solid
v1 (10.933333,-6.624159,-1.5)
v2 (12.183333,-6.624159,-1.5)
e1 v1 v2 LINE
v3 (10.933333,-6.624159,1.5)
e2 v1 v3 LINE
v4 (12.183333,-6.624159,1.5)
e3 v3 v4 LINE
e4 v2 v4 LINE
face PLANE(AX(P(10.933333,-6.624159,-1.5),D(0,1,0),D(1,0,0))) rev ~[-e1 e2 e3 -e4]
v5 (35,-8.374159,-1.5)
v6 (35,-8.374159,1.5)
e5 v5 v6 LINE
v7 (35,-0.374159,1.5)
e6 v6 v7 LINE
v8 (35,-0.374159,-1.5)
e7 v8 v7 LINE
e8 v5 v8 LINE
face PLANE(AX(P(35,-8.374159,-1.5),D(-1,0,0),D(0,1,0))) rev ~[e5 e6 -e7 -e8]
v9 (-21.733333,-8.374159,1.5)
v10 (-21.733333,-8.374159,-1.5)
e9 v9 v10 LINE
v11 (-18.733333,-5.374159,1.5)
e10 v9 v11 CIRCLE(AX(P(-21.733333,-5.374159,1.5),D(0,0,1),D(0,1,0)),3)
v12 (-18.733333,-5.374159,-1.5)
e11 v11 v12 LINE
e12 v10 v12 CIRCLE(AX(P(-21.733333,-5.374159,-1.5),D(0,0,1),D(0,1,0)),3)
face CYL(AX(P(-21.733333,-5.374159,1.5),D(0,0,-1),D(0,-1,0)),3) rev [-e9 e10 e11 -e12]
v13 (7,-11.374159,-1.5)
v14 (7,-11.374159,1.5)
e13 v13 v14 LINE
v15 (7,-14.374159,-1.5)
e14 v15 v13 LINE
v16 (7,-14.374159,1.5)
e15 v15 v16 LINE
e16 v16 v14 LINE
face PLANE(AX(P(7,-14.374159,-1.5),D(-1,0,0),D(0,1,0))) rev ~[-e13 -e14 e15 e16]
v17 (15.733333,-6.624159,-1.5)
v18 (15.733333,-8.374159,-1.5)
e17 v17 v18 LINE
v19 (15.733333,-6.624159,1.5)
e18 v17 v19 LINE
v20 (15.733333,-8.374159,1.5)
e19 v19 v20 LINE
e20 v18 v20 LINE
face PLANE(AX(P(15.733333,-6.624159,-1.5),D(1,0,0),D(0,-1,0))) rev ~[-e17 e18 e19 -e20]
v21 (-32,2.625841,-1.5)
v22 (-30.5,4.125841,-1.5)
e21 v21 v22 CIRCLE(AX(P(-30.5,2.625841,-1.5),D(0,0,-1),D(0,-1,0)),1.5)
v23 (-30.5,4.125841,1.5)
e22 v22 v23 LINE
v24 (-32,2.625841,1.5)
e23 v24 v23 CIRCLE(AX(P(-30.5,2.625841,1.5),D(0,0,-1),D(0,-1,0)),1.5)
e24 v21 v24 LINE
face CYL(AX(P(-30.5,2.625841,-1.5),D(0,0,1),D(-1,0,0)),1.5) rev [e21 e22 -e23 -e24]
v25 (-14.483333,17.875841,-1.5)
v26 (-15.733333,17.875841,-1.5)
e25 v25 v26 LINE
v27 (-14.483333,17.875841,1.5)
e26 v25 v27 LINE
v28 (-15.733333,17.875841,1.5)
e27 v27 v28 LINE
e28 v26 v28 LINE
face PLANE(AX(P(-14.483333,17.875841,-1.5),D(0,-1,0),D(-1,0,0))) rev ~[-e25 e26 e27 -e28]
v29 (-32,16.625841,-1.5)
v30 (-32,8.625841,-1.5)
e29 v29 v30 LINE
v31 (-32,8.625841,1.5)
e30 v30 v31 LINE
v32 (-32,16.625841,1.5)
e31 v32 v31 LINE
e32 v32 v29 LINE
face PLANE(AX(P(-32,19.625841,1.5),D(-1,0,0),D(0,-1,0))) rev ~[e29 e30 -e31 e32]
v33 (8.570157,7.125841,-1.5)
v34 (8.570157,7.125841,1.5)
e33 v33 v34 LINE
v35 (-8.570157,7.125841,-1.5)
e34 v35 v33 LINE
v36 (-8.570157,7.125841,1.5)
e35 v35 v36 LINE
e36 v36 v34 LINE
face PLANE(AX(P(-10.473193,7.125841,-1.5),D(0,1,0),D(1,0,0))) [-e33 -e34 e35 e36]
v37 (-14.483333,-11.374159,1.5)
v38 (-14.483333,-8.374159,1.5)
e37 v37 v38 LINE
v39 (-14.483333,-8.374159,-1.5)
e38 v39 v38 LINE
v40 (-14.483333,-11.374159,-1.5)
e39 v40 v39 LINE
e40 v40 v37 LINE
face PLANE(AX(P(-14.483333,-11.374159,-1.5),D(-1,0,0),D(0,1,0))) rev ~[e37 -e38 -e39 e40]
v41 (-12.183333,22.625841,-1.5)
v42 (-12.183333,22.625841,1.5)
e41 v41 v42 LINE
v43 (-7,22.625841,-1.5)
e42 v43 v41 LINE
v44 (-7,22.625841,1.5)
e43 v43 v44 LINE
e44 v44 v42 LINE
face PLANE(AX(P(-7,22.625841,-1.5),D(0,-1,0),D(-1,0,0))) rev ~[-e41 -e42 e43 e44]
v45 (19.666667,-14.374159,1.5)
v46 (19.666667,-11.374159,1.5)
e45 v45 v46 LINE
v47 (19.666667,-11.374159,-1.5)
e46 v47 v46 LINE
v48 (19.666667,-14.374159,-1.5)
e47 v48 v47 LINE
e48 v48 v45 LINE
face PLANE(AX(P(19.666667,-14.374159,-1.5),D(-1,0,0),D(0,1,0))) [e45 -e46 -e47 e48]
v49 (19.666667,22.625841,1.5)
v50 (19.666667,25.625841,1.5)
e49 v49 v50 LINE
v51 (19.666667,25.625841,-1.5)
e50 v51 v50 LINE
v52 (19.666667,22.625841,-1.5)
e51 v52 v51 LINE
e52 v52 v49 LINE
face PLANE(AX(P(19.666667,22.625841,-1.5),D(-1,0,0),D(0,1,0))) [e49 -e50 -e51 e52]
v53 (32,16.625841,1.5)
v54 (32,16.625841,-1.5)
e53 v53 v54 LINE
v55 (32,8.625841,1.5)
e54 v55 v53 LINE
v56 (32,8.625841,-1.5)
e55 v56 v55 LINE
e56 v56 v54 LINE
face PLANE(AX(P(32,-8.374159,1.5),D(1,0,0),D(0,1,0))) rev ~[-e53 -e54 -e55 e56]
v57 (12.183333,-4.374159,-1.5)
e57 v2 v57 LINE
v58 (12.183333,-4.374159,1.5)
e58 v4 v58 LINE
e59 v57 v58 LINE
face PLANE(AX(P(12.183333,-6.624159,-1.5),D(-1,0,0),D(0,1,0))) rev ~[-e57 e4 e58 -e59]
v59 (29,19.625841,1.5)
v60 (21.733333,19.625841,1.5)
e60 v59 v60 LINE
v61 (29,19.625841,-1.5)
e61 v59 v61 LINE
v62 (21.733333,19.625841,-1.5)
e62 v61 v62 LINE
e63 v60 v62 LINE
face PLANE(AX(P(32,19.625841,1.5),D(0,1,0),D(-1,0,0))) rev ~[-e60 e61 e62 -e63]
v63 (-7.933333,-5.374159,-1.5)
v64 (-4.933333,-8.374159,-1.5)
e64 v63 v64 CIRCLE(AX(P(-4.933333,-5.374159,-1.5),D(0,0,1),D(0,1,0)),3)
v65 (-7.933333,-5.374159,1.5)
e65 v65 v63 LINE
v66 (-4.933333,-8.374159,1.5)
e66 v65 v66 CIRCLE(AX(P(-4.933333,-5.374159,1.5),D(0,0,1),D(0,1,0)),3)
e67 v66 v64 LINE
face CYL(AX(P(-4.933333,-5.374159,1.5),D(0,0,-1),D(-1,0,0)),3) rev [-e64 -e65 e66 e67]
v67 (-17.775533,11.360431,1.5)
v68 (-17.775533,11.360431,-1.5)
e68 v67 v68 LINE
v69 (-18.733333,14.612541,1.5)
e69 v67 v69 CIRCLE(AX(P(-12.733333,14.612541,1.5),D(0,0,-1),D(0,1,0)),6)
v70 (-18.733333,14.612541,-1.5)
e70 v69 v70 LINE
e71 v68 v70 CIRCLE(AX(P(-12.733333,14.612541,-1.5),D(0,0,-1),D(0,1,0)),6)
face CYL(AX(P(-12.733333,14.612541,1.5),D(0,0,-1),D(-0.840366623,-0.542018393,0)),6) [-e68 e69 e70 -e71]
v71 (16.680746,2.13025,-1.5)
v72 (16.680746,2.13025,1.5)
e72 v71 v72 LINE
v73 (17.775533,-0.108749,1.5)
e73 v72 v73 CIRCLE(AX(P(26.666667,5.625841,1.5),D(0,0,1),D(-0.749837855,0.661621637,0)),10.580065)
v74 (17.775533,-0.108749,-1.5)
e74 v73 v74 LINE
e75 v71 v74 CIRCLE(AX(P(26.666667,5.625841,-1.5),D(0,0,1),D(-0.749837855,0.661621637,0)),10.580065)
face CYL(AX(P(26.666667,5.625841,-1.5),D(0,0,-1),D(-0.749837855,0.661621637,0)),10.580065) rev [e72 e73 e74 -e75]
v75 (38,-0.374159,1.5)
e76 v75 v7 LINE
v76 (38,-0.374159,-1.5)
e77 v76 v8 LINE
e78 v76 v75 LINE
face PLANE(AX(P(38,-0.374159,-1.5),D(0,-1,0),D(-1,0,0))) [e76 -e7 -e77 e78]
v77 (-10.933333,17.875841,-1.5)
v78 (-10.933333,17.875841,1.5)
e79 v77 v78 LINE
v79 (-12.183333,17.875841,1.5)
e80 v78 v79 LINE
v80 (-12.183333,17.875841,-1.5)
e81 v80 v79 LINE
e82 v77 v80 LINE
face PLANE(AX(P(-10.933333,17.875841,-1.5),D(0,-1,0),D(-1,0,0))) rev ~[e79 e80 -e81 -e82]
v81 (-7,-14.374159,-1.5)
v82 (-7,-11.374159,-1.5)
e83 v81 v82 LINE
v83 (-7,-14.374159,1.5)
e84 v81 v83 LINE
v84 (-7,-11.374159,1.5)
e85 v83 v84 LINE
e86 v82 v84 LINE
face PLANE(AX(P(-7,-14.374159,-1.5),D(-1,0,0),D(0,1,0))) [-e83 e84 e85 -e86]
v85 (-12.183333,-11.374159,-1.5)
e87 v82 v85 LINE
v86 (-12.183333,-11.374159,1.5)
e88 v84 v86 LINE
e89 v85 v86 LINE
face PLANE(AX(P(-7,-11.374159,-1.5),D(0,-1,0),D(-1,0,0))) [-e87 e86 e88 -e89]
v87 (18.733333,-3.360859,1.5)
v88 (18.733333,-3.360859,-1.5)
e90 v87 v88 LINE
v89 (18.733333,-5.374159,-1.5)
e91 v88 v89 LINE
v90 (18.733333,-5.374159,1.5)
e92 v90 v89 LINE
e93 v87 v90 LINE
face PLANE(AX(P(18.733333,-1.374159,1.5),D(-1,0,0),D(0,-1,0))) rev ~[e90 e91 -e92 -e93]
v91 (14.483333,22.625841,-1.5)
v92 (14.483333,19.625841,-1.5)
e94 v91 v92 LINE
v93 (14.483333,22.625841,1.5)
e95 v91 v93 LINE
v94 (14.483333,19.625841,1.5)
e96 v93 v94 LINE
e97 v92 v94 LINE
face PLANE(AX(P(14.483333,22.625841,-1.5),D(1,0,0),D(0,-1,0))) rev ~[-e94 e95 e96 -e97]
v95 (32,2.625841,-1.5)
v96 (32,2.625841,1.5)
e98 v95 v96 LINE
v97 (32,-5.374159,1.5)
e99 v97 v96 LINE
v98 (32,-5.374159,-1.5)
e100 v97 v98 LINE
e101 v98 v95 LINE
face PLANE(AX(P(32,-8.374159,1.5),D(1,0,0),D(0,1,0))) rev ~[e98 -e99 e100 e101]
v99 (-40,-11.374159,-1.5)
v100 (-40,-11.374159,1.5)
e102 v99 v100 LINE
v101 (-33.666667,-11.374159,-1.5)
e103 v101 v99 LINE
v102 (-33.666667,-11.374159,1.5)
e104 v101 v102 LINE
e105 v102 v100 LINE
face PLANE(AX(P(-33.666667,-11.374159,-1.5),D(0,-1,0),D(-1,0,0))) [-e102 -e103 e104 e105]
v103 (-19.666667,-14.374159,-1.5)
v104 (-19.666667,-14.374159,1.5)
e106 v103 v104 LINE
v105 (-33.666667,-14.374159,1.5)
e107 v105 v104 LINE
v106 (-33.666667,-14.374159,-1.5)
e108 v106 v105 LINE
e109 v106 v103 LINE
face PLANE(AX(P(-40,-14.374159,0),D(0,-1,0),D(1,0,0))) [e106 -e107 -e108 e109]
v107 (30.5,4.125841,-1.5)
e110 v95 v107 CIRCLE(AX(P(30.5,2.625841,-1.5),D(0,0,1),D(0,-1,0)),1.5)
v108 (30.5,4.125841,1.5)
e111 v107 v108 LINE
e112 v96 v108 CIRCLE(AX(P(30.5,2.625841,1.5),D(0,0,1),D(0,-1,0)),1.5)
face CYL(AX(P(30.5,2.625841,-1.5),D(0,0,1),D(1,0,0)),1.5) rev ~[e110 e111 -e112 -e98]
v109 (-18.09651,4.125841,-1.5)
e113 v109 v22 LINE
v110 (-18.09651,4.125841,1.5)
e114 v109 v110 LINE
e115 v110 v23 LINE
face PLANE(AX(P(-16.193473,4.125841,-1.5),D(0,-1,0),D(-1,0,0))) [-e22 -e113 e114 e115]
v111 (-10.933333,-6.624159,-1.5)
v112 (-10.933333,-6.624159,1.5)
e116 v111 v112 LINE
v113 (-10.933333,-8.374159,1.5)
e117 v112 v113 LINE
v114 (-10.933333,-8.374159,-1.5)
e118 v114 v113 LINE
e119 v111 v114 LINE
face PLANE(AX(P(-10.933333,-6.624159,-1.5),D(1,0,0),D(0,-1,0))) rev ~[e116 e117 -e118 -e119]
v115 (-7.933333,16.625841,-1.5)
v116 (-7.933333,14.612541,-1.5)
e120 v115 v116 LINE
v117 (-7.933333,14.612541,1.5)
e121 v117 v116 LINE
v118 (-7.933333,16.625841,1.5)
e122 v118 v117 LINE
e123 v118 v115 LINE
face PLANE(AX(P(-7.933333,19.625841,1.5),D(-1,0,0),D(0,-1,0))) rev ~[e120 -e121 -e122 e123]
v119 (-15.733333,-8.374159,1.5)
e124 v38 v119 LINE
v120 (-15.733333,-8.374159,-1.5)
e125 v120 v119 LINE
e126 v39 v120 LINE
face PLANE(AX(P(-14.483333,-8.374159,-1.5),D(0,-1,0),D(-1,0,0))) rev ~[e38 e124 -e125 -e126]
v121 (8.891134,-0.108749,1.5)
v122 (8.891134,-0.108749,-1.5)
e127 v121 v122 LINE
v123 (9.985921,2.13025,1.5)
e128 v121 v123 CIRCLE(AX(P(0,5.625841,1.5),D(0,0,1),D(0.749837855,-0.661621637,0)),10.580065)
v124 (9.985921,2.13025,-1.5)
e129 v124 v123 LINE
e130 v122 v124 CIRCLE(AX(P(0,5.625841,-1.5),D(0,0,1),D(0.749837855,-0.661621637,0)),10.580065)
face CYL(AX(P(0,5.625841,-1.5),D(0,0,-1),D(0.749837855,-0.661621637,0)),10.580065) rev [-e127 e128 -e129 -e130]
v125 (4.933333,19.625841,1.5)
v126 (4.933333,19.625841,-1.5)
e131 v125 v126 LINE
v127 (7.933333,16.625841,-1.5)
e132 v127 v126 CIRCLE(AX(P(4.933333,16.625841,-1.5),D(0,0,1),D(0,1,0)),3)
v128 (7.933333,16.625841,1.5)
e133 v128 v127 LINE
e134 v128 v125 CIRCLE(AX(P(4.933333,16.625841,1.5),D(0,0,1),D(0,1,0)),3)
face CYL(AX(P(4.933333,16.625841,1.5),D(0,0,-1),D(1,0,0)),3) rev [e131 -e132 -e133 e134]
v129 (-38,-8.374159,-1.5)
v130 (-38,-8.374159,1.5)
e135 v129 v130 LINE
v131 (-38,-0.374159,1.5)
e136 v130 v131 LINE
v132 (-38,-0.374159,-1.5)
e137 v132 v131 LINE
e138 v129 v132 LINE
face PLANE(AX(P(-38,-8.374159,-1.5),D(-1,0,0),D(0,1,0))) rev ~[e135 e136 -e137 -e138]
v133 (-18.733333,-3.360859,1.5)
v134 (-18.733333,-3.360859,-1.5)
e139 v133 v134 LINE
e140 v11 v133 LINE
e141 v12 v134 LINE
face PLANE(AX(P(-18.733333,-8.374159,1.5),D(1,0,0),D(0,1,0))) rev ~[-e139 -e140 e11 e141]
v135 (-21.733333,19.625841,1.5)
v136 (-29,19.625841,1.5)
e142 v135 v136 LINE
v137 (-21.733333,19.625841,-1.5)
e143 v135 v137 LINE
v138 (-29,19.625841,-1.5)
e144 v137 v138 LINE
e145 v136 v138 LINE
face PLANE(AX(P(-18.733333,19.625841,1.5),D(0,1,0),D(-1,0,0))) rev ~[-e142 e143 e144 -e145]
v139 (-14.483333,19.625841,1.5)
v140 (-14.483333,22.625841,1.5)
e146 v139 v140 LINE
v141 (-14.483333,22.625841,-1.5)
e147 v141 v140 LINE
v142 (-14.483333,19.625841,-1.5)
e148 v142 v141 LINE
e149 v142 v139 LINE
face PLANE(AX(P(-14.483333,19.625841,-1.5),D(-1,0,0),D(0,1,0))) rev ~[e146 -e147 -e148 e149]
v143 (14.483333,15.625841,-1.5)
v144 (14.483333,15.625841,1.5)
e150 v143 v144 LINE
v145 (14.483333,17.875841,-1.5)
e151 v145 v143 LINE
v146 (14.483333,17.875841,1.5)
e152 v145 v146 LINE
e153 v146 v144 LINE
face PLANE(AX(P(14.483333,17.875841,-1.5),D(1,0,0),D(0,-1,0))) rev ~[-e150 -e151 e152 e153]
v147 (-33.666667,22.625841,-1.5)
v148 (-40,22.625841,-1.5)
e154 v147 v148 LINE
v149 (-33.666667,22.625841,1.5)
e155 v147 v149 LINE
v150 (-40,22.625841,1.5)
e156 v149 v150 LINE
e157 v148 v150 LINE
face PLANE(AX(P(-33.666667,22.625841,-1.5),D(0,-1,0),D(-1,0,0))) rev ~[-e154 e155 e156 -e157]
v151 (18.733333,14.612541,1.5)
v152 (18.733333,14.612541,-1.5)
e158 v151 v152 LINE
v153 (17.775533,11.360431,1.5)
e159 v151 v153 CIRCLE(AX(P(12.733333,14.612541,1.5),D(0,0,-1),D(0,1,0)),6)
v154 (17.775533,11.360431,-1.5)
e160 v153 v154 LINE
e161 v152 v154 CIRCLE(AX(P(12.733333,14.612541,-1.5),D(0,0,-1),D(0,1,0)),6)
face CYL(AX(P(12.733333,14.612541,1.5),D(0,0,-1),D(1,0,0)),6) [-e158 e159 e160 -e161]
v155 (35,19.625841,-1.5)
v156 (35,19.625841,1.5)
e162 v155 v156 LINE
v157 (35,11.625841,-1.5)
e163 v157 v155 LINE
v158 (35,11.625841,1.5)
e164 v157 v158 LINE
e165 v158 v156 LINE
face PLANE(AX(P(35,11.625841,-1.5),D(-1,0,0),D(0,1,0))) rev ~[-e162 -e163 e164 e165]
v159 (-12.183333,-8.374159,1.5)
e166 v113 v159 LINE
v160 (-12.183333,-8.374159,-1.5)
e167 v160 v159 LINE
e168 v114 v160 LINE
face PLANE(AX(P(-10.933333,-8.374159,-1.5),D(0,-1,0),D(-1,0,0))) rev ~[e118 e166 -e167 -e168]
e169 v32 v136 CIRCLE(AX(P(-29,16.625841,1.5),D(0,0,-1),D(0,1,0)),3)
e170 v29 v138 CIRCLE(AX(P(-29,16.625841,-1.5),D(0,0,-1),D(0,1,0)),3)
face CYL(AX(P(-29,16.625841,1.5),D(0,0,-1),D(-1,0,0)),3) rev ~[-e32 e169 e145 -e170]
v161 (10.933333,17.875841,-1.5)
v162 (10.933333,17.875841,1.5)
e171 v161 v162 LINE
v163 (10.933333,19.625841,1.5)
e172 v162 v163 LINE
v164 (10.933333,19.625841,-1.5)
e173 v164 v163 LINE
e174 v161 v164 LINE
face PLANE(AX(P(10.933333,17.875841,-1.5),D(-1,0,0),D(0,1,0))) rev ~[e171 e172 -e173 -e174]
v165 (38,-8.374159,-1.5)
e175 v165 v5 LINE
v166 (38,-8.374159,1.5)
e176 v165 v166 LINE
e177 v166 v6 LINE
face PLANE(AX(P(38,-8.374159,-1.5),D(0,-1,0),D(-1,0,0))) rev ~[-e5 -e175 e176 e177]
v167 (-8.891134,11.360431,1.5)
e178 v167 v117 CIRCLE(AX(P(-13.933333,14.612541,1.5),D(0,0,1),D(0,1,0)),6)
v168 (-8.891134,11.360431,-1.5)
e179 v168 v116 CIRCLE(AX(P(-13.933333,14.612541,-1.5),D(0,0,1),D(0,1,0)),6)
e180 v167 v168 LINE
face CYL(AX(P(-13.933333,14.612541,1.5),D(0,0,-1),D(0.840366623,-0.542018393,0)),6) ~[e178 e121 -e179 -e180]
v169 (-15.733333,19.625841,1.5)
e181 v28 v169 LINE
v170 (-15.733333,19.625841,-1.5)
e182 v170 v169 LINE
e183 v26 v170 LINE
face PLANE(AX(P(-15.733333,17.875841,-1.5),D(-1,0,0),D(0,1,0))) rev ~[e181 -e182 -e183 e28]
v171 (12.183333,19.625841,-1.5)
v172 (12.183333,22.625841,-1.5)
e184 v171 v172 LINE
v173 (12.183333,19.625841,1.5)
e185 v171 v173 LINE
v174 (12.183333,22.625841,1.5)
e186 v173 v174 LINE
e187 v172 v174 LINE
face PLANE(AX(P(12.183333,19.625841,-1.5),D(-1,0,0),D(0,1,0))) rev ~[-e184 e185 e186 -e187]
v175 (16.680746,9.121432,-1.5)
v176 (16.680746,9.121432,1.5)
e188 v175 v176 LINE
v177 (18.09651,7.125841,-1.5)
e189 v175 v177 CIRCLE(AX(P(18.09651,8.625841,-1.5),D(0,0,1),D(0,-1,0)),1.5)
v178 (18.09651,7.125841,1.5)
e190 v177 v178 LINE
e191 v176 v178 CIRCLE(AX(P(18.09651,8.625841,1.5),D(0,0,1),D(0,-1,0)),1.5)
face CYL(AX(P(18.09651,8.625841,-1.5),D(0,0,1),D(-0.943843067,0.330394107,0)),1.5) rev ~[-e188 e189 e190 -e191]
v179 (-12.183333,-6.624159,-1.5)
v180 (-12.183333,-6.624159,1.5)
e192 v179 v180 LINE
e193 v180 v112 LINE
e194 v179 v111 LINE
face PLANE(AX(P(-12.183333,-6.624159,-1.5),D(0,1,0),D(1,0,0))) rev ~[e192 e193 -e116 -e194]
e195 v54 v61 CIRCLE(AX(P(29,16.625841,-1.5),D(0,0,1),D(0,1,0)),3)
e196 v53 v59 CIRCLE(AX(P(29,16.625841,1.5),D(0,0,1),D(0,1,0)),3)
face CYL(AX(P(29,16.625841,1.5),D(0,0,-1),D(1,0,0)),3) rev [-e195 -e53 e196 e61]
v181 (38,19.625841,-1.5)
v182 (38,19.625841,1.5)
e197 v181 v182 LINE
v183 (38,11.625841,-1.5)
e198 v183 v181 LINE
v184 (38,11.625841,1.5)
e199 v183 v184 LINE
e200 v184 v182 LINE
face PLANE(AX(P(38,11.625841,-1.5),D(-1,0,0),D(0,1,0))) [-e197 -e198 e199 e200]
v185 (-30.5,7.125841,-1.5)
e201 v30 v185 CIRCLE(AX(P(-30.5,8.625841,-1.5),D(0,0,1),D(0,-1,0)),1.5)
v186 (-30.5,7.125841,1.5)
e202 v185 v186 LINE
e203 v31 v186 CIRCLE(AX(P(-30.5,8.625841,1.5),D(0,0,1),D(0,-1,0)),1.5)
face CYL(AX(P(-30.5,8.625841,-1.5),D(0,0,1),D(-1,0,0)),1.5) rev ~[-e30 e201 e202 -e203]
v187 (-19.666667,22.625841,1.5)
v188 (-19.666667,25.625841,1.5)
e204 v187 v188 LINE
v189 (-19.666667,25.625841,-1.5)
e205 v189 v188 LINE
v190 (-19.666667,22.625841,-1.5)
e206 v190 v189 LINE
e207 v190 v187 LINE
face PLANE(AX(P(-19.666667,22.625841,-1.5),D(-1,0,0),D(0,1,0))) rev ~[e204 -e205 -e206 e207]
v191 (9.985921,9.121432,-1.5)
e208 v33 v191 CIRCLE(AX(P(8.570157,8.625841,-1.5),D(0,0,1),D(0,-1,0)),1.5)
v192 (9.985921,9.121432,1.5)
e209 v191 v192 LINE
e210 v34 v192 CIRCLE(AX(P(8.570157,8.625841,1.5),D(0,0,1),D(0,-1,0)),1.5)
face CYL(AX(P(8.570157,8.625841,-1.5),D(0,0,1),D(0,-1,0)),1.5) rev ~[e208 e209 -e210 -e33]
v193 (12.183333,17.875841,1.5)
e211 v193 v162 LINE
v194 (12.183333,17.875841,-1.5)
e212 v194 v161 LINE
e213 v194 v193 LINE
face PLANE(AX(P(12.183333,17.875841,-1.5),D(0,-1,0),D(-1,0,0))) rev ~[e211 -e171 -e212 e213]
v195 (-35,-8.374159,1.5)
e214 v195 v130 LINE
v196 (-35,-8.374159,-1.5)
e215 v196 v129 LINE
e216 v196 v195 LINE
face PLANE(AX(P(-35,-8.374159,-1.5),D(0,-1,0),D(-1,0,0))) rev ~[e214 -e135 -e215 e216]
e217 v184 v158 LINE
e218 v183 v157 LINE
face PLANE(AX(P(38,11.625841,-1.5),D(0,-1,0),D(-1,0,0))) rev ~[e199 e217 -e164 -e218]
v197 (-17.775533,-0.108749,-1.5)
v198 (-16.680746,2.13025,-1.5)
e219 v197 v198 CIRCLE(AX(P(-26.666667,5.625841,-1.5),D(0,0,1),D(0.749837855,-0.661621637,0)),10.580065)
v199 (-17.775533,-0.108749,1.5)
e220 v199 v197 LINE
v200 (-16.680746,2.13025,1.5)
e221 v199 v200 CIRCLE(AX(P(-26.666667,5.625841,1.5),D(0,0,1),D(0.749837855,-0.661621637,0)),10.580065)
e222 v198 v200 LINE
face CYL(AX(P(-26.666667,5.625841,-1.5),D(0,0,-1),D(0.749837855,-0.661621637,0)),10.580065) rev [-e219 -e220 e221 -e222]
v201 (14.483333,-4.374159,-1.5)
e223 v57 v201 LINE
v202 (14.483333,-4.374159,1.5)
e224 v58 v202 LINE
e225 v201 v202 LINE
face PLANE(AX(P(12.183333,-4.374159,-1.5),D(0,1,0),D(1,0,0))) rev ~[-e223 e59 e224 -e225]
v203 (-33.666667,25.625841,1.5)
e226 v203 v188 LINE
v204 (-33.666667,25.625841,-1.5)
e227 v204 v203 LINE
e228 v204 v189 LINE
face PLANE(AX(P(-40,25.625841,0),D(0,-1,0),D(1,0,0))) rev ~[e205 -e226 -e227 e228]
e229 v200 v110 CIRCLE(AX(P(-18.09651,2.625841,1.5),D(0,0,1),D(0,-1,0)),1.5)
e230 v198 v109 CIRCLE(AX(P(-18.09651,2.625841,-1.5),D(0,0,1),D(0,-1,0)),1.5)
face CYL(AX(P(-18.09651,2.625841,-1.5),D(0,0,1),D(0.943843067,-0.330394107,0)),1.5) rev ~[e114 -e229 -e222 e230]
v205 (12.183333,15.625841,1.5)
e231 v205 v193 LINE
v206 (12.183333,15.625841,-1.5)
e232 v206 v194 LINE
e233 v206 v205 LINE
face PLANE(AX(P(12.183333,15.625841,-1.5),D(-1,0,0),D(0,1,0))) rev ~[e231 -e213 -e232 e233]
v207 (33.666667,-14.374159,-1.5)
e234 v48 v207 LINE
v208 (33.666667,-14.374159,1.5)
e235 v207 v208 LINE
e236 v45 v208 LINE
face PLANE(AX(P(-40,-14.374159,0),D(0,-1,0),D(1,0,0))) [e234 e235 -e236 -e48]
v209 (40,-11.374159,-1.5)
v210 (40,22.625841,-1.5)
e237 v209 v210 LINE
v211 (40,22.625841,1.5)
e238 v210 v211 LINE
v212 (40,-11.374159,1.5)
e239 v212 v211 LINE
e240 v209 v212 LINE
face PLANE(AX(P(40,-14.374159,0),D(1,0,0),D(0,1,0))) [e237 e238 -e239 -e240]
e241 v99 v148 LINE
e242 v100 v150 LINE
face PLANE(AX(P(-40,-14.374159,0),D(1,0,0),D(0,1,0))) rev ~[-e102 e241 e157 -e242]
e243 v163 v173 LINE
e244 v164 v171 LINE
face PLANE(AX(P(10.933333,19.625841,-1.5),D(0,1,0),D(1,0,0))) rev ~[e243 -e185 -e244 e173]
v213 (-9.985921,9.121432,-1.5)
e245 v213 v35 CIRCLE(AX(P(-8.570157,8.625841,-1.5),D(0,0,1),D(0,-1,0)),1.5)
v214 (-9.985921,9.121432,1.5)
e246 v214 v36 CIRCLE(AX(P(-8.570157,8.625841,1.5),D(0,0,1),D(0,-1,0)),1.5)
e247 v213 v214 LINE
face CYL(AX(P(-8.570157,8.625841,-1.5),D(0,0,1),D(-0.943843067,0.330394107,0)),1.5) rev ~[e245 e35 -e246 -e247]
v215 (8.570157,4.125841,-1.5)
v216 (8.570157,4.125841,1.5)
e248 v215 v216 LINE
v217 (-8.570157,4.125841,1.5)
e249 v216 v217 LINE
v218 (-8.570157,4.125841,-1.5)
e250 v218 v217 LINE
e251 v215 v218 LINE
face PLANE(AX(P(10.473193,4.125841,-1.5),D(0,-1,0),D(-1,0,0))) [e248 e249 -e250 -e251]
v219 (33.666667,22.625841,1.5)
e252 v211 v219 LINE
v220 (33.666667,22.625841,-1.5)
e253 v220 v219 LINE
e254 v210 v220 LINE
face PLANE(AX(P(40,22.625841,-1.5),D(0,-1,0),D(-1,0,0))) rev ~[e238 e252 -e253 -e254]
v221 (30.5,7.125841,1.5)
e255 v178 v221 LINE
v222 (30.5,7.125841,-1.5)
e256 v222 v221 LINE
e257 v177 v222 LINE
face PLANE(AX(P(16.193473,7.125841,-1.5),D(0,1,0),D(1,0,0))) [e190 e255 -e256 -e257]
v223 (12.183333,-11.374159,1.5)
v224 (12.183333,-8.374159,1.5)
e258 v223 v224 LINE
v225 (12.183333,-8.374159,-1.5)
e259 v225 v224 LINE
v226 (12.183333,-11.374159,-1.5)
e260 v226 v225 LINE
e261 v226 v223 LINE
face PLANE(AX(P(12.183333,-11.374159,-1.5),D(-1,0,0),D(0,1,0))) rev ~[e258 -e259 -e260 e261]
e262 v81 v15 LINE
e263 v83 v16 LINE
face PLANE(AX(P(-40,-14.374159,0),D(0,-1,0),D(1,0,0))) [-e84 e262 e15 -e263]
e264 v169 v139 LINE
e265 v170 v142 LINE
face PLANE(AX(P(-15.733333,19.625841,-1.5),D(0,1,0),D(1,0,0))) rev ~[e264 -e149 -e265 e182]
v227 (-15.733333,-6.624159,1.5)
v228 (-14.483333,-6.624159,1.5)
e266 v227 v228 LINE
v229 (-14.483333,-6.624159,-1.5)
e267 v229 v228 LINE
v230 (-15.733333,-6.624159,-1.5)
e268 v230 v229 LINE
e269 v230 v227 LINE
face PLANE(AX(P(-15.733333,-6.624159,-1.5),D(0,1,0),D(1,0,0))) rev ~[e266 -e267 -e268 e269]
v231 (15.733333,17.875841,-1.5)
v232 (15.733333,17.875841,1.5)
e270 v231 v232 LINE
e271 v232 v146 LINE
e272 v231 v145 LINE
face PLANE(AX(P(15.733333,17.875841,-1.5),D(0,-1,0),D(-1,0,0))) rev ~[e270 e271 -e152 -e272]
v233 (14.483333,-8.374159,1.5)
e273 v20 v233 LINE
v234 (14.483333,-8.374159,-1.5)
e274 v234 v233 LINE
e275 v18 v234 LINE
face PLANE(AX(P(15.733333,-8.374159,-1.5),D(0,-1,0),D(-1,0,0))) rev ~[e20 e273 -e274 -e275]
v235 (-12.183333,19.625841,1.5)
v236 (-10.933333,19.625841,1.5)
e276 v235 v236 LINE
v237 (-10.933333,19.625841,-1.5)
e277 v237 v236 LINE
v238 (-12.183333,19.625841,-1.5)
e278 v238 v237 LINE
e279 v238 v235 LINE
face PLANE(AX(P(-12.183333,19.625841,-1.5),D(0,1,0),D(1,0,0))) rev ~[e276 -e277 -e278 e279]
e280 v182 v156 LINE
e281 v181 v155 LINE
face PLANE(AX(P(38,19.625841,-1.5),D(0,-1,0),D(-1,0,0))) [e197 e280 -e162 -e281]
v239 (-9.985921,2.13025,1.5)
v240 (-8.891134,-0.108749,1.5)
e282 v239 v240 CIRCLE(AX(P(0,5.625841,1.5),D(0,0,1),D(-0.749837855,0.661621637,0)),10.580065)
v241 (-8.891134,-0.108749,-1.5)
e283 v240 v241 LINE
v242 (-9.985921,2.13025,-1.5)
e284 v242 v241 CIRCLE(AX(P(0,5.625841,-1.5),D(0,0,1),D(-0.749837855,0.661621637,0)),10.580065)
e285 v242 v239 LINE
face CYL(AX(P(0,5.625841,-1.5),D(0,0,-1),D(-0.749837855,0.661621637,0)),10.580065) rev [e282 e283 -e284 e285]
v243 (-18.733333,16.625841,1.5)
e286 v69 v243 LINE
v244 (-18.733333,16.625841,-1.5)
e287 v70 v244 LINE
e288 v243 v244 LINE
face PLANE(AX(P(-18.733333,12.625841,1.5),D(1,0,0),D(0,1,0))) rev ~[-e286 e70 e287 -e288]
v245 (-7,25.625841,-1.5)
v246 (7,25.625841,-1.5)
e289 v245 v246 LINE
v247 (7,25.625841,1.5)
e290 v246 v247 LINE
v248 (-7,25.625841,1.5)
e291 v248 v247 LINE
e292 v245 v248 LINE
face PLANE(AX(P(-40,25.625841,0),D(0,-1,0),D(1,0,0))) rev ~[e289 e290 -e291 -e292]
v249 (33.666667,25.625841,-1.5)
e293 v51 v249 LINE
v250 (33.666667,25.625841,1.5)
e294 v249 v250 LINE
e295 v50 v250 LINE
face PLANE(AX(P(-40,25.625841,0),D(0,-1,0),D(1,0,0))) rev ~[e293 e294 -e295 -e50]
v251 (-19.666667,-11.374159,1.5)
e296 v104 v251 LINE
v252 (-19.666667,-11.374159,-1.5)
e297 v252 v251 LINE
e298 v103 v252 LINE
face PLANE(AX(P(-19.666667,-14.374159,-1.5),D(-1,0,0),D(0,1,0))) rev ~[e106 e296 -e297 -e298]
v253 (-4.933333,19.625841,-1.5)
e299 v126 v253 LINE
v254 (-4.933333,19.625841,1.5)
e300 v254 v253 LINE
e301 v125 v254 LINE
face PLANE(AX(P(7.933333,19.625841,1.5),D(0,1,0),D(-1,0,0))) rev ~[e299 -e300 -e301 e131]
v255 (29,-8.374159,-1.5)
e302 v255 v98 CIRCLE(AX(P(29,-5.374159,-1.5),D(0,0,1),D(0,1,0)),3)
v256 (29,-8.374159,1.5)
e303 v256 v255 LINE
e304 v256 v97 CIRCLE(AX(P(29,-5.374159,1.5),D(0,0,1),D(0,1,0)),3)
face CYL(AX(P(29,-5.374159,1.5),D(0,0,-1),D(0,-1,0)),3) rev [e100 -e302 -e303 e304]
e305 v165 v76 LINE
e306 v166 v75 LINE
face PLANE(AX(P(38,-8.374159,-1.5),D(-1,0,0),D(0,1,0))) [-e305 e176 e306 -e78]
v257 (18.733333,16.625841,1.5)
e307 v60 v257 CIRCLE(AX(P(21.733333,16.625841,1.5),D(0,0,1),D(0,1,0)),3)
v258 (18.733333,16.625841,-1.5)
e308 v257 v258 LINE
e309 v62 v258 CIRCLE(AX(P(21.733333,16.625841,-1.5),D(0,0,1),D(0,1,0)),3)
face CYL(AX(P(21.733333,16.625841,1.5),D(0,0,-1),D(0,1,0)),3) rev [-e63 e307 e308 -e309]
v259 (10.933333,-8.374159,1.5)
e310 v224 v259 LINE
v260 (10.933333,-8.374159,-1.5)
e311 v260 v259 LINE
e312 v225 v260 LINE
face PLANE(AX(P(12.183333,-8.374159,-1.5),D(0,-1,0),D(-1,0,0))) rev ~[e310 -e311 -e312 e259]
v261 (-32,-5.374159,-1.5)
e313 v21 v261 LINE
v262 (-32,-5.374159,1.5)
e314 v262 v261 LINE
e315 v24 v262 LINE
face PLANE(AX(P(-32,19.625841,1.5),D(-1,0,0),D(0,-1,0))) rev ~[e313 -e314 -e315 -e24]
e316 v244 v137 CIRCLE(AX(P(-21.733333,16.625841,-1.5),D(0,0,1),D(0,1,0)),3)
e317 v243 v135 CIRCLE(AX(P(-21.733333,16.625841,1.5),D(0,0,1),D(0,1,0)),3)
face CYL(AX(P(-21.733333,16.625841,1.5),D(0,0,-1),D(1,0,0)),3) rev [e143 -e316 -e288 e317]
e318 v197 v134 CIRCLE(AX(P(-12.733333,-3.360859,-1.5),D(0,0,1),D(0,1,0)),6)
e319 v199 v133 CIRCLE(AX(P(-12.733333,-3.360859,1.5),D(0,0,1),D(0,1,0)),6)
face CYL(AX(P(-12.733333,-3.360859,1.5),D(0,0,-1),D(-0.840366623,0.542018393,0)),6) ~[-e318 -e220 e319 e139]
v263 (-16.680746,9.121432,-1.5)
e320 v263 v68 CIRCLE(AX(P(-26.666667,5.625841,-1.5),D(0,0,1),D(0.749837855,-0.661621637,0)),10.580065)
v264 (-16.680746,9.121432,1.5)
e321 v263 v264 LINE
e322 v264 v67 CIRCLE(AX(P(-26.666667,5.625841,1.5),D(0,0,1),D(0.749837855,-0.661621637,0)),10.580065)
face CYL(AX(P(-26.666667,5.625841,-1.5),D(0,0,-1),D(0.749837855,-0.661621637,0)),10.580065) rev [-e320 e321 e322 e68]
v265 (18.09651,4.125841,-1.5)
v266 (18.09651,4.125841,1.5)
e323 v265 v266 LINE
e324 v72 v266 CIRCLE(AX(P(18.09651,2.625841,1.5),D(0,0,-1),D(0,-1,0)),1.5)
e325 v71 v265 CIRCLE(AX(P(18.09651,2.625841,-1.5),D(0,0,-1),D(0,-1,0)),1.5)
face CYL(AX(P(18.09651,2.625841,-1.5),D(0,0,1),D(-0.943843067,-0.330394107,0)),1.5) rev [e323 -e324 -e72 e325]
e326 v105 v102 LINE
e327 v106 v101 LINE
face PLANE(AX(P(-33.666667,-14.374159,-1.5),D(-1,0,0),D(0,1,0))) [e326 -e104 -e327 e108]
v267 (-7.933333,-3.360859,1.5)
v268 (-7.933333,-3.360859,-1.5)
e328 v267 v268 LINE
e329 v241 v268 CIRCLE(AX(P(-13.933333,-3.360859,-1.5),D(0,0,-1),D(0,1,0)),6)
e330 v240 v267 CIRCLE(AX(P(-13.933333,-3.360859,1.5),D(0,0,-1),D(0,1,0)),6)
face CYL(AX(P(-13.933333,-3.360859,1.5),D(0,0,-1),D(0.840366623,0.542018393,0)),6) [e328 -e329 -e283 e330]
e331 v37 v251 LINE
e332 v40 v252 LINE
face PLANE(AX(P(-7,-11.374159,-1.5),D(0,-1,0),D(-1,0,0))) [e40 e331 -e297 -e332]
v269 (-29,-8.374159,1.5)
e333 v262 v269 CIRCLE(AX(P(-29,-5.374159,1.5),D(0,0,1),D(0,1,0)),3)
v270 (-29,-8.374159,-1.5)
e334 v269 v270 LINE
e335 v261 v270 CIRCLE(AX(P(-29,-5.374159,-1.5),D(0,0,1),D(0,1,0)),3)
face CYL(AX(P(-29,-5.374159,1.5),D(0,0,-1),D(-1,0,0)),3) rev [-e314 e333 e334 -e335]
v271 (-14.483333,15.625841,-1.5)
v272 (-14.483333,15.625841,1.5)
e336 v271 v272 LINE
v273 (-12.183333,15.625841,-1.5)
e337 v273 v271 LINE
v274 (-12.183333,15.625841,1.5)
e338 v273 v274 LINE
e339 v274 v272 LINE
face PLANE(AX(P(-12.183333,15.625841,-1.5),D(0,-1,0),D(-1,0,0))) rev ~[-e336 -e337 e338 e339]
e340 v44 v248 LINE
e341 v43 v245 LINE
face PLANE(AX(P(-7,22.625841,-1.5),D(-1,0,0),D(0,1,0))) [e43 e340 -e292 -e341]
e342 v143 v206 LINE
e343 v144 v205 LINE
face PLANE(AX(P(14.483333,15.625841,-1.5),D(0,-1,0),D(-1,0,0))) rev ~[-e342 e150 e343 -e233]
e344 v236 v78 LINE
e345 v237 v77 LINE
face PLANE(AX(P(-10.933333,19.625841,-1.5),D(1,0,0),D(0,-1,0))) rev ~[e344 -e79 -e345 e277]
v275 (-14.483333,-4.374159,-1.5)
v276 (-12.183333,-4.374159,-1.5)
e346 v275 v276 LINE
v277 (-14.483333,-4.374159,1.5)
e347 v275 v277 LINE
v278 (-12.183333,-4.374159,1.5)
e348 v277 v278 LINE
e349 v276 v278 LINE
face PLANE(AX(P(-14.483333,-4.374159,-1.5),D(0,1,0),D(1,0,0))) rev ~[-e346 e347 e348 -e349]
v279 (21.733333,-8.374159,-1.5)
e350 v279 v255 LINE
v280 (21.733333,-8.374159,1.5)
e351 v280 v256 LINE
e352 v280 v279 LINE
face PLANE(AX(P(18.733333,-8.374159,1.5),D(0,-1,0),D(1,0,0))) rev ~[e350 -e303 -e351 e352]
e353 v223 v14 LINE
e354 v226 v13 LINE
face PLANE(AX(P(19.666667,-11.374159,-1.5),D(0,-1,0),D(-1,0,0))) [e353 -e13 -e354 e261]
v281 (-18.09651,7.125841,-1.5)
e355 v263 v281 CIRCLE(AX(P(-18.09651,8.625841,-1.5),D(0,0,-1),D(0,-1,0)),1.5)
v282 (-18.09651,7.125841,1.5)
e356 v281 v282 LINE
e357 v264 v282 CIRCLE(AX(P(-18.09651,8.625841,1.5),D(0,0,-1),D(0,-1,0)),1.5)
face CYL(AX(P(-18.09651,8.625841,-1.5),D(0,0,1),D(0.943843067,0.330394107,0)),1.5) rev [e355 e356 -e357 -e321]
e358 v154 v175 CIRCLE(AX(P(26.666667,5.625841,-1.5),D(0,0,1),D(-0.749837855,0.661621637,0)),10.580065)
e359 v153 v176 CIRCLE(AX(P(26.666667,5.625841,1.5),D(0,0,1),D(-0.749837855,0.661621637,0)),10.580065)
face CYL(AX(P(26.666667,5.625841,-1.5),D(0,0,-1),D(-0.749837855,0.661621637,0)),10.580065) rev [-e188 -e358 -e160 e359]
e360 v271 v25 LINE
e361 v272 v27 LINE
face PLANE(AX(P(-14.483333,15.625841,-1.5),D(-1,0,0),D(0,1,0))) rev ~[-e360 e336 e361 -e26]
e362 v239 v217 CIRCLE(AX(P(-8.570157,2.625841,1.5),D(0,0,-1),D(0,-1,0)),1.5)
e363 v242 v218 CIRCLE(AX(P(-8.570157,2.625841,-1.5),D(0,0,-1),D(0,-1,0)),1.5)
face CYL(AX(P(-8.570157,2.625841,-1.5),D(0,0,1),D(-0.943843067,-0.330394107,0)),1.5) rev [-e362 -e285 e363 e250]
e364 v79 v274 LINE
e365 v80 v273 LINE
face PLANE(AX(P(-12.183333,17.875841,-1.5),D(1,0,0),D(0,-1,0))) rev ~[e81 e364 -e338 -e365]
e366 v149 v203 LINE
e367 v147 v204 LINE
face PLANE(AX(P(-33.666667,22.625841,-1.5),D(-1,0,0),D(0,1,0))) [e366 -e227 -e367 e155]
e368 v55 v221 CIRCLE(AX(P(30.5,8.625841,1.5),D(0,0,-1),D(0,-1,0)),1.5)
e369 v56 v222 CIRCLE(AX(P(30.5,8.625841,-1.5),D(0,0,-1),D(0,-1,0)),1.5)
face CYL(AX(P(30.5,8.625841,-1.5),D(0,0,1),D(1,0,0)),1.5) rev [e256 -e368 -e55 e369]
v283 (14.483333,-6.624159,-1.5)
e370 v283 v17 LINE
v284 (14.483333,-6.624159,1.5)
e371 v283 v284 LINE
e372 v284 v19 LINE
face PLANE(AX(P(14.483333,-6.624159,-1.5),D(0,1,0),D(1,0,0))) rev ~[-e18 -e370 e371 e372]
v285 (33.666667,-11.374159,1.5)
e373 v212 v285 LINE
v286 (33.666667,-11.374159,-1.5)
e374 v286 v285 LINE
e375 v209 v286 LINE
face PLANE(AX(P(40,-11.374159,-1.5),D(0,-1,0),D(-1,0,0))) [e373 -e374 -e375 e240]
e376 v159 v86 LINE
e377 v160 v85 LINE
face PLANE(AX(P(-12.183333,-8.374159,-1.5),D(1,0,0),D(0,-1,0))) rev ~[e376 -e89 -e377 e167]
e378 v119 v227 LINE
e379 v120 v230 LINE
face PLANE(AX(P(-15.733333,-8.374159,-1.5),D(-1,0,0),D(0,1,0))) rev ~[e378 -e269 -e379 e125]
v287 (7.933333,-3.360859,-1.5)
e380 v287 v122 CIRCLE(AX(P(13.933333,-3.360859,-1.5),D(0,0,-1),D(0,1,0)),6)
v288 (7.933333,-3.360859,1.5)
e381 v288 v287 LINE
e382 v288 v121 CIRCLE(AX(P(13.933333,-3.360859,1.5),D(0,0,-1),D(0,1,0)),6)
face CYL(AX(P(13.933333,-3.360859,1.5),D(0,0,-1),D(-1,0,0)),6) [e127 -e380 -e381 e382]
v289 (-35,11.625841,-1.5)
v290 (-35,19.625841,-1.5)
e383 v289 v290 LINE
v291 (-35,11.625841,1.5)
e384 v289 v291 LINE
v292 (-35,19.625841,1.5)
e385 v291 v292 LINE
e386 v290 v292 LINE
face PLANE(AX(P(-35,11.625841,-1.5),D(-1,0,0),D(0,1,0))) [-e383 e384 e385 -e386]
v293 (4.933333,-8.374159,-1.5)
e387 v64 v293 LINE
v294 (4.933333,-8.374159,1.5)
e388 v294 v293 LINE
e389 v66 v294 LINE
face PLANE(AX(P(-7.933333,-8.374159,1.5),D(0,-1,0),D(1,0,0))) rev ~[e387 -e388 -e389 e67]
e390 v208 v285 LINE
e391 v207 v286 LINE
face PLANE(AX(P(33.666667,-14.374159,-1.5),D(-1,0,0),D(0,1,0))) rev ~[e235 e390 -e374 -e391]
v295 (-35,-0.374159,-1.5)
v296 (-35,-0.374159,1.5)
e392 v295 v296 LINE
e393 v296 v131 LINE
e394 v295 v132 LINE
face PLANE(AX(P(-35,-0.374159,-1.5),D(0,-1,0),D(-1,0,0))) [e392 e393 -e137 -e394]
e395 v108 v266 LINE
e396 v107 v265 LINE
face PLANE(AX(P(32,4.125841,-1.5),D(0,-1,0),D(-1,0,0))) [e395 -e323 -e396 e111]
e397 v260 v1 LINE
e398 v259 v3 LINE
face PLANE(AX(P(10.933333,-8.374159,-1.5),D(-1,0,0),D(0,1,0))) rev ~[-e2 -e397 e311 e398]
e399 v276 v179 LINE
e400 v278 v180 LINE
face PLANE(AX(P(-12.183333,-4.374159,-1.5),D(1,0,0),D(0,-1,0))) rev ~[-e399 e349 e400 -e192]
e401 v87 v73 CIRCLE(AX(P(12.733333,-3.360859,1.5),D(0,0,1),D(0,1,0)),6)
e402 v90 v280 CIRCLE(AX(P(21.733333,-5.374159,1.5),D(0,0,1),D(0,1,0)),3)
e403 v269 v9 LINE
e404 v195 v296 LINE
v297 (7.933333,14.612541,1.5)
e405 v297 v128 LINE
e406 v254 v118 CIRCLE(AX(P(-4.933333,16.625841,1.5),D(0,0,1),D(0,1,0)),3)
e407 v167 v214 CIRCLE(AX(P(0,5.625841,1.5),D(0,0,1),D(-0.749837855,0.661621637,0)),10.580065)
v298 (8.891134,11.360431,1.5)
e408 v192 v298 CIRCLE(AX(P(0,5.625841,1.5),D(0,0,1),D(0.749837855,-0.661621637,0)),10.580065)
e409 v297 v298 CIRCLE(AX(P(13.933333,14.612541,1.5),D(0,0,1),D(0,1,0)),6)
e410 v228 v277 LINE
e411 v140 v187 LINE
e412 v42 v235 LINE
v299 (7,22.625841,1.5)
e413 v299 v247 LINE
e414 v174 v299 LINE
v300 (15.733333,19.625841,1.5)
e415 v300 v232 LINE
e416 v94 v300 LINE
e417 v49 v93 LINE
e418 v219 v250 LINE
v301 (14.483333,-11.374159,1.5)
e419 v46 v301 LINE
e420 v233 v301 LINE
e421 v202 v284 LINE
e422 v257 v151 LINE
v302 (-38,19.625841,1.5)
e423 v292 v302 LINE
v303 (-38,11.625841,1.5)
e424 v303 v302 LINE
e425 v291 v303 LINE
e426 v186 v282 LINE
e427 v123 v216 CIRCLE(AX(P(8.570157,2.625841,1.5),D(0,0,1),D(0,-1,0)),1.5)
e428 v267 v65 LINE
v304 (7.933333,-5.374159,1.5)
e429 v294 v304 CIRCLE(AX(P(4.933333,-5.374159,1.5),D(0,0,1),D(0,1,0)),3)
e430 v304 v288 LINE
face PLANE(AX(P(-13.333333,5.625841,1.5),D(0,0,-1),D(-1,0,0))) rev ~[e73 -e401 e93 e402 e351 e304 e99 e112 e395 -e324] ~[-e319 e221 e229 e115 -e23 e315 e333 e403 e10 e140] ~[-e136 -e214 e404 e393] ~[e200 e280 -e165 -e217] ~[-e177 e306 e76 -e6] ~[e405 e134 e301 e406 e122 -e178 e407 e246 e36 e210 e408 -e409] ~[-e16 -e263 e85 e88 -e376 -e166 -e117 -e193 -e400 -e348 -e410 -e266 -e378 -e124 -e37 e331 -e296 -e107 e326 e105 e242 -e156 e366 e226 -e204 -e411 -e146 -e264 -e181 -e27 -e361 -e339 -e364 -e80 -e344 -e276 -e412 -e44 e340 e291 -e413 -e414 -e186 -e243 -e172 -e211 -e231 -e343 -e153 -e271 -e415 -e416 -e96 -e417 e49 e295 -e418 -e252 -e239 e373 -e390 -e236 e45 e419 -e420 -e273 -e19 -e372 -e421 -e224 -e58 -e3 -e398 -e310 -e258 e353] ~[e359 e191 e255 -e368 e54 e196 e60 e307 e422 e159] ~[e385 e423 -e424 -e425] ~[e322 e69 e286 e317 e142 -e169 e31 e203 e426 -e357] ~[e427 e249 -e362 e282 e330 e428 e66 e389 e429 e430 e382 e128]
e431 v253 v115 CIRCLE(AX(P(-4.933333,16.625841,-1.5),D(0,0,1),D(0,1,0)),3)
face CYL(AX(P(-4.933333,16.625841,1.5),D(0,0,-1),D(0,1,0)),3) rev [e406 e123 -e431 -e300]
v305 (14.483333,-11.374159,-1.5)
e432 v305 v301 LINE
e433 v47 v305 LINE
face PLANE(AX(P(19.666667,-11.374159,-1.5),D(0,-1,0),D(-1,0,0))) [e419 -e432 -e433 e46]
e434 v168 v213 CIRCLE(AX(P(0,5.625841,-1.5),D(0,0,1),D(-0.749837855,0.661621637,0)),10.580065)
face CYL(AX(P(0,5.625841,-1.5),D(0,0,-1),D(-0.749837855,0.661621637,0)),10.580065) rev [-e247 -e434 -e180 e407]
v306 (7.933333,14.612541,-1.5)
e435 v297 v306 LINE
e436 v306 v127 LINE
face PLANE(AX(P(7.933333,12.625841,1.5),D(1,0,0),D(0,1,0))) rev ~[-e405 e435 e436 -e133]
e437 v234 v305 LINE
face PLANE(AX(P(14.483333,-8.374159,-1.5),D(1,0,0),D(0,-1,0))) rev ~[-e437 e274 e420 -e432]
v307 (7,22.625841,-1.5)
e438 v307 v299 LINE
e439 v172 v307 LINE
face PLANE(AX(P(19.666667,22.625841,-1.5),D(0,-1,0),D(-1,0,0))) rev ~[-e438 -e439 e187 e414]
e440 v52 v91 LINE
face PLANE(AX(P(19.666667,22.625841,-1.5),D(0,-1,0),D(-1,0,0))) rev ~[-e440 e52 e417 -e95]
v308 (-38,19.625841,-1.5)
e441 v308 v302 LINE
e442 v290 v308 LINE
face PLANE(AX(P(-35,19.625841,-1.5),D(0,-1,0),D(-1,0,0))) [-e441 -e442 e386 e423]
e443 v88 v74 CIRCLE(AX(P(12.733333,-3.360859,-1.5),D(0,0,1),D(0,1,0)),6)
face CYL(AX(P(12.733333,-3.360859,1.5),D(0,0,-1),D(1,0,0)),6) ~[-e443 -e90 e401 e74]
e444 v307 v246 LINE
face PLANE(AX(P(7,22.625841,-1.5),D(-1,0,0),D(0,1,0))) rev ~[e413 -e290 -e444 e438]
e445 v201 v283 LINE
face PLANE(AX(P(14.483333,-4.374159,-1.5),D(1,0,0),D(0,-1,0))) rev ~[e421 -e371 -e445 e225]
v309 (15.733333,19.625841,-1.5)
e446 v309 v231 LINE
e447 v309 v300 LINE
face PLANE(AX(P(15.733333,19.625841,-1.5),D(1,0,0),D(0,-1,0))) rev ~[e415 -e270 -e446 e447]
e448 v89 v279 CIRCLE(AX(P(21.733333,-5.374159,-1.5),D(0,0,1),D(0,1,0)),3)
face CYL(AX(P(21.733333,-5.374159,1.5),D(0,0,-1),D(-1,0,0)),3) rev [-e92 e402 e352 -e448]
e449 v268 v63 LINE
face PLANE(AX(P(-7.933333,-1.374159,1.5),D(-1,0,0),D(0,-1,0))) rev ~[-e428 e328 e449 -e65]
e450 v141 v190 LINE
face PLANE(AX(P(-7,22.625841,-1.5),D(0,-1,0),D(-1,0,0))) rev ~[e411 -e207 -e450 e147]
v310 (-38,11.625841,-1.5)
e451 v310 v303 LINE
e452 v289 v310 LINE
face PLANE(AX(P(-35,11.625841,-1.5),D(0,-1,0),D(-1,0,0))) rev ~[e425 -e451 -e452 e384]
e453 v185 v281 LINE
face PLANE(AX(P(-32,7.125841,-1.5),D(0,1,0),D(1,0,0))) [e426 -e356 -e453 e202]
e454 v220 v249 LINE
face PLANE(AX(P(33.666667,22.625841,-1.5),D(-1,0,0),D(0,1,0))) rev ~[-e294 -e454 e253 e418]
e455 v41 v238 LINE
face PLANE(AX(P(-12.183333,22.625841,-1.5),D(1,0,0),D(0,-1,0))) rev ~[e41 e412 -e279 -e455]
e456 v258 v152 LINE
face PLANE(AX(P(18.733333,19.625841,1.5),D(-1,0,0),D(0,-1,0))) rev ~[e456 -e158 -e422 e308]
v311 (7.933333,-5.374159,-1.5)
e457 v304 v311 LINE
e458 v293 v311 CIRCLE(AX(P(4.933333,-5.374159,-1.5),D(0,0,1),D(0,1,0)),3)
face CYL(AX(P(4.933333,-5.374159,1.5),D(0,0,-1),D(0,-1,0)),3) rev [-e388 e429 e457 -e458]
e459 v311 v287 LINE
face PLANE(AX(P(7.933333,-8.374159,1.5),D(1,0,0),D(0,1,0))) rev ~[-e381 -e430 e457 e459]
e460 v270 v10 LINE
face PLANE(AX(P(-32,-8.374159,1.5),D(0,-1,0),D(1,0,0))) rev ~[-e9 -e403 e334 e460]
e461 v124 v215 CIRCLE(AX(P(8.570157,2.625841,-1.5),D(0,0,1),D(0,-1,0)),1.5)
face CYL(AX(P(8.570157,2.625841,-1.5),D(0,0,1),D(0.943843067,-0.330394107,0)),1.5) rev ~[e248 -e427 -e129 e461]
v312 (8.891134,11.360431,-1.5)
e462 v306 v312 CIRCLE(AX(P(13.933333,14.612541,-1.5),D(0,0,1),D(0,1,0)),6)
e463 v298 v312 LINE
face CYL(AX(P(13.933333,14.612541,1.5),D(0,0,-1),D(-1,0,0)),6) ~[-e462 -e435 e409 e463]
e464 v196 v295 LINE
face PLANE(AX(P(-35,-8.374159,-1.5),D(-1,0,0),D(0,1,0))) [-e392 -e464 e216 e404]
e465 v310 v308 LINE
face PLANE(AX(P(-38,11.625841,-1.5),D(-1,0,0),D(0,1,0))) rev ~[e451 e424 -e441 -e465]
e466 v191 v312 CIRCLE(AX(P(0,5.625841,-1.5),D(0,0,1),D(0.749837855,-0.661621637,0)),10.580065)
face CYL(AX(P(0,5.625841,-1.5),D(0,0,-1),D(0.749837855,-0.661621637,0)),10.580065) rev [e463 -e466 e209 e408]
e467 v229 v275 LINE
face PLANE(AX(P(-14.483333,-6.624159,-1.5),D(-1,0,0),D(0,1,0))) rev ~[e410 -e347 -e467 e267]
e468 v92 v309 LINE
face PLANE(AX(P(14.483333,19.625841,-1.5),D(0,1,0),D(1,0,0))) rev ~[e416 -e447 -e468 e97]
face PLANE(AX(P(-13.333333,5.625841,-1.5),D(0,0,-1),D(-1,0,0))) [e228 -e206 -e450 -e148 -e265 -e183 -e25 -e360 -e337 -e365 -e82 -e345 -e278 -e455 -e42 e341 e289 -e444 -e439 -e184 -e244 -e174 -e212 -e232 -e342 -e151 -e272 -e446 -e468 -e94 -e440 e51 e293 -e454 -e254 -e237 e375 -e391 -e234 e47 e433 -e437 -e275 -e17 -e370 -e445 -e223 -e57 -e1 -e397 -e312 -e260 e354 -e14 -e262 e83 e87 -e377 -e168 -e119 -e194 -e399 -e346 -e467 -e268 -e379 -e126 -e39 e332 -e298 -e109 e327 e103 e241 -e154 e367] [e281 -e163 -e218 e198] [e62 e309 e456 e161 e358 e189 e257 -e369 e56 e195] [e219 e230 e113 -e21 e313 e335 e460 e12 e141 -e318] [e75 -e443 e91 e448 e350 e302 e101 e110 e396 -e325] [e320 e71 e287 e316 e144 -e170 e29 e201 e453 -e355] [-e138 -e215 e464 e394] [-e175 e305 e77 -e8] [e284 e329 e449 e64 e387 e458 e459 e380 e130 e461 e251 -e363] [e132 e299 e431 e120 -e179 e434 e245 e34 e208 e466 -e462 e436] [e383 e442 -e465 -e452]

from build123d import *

# Parameters (mm, degrees)
SKETCH1_W           = 80
SKETCH1_H           = 40
BOSS_EXTRUDE1_DEPTH = 1.5
SKETCH3_W           = 6.333333333
SKETCH3_H           = 3
SKETCH3_W_2         = 12.666666667
CUT_EXTRUDE1_DEPTH  = 3
CUT_EXTRUDE3_DEPTH  = 3
SKETCH5_W           = 3
SKETCH5_H           = 8
CUT_EXTRUDE4_DEPTH  = 3
CUT_EXTRUDE6_DEPTH  = 3
FILLET1_R           = 3
BOSS_EXTRUDE2_START = -3
BOSS_EXTRUDE2_DEPTH = 3
FILLET2_R           = 6
BOSS_EXTRUDE3_START = -3
BOSS_EXTRUDE3_DEPTH = 3
FILLET3_R           = 1.5


with BuildPart() as part:
    # Sketch1 → Boss-Extrude1 (new body, symmetric)
    with BuildSketch(Plane.XY):
        with Locations((0, 5.625841184)):
            Rectangle(SKETCH1_W, SKETCH1_H)
    extrude(amount=BOSS_EXTRUDE1_DEPTH, both=True)

    # Sketch3 → Cut-Extrude1 (cut)
    with BuildSketch(Plane(origin=(0, 0, -1.5), x_dir=(-1, 0, 0), z_dir=(0, 0, -1))):
        with Locations((-36.833333334, 24.125841184)):
            Rectangle(SKETCH3_W, SKETCH3_H)
        with Locations((-13.333333334, 24.125841184)):
            Rectangle(SKETCH3_W_2, SKETCH3_H)
        with Locations((13.333333334, 24.125841184)):
            Rectangle(SKETCH3_W_2, SKETCH3_H)
        with Locations((36.833333334, 24.125841184)):
            Rectangle(SKETCH3_W, SKETCH3_H)
        with Locations((-36.833333334, -12.874158816)):
            Rectangle(SKETCH3_W, SKETCH3_H)
        with Locations((-13.333333334, -12.874158816)):
            Rectangle(SKETCH3_W_2, SKETCH3_H)
        with Locations((36.833333334, -12.874158816)):
            Rectangle(SKETCH3_W, SKETCH3_H)
        with Locations((13.333333334, -12.874158816)):
            Rectangle(SKETCH3_W_2, SKETCH3_H)
    extrude(amount=-CUT_EXTRUDE1_DEPTH, mode=Mode.SUBTRACT)

    # Sketch4 → Cut-Extrude3 (cut)
    with BuildSketch(Plane(origin=(0, 0, -1.5), x_dir=(-1, 0, 0), z_dir=(0, 0, -1))):
        Polygon((10.933333333, 17.875841184), (12.183333333, 17.875841184), (12.183333333, 15.625841184), (14.483333333, 15.625841184), (14.483333333, 17.875841184), (15.733333333, 17.875841184), (15.733333333, 19.625841184), (14.483333333, 19.625841184), (14.483333333, 22.625841184), (12.183333333, 22.625841184), (12.183333333, 19.625841184), (10.933333333, 19.625841184), align=None)
        Polygon((-12.183333333, 22.625841184), (-14.483333333, 22.625841184), (-14.483333333, 19.625841184), (-15.733333333, 19.625841184), (-15.733333333, 17.875841184), (-14.483333333, 17.875841184), (-14.483333333, 15.625841184), (-12.183333333, 15.625841184), (-12.183333333, 17.875841184), (-10.933333333, 17.875841184), (-10.933333333, 19.625841184), (-12.183333333, 19.625841184), align=None)
        Polygon((-10.933333333, -6.624158816), (-12.183333333, -6.624158816), (-12.183333333, -4.374158816), (-14.483333333, -4.374158816), (-14.483333333, -6.624158816), (-15.733333333, -6.624158816), (-15.733333333, -8.374158816), (-14.483333333, -8.374158816), (-14.483333333, -11.374158816), (-12.183333333, -11.374158816), (-12.183333333, -8.374158816), (-10.933333333, -8.374158816), align=None)
        Polygon((12.183333333, -11.374158816), (14.483333333, -11.374158816), (14.483333333, -8.374158816), (15.733333333, -8.374158816), (15.733333333, -6.624158816), (14.483333333, -6.624158816), (14.483333333, -4.374158816), (12.183333333, -4.374158816), (12.183333333, -6.624158816), (10.933333333, -6.624158816), (10.933333333, -8.374158816), (12.183333333, -8.374158816), align=None)
    extrude(amount=-CUT_EXTRUDE3_DEPTH, mode=Mode.SUBTRACT)

    # Sketch5 → Cut-Extrude4 (cut)
    with BuildSketch(Plane(origin=(0, 0, -1.5), x_dir=(-1, 0, 0), z_dir=(0, 0, -1))):
        with Locations((36.5, -4.374158816)):
            Rectangle(SKETCH5_W, SKETCH5_H)
        with Locations((36.5, 15.625841184)):
            Rectangle(SKETCH5_W, SKETCH5_H)
        with Locations((-36.5, 15.625841184)):
            Rectangle(SKETCH5_W, SKETCH5_H)
        with Locations((-36.5, -4.374158816)):
            Rectangle(SKETCH5_W, SKETCH5_H)
    extrude(amount=-CUT_EXTRUDE4_DEPTH, mode=Mode.SUBTRACT)

    # Sketch7 → Cut-Extrude6 (cut)
    with BuildSketch(Plane.XY.offset(1.5)):
        Polygon((-32, 19.625841184), (-32, -8.374158816), (-18.733333333, -8.374158816), (-18.733333333, -1.374158816), (-7.933333333, -1.374158816), (-7.933333333, -8.374158816), (7.933333333, -8.374158816), (7.933333333, -1.374158816), (18.733333333, -1.374158816), (18.733333333, -8.374158816), (32, -8.374158816), (32, 19.625841184), (18.733333333, 19.625841184), (18.733333333, 12.625841184), (7.933333333, 12.625841184), (7.933333333, 19.625841184), (-7.933333333, 19.625841184), (-7.933333333, 12.625841184), (-18.733333333, 12.625841184), (-18.733333333, 19.625841184), align=None)
    extrude(amount=-CUT_EXTRUDE6_DEPTH, mode=Mode.SUBTRACT)

    # Fillet1
    fillet1_edges = [part.edges().sort_by_distance(p)[0] for p in [
        (-32, 19.625841184, 0),
        (-18.733333333, 19.625841184, 0),
        (-7.933333333, 19.625841184, 0),
        (7.933333333, 19.625841184, 0),
        (18.733333333, 19.625841184, 0),
        (32, 19.625841184, 0),
        (32, -8.374158816, 0),
        (18.733333333, -8.374158816, 0),
        (7.933333333, -8.374158816, 0),
        (-7.933333333, -8.374158816, 0),
        (-18.733333333, -8.374158816, 0),
        (-32, -8.374158816, 0),
    ]]
    fillet(fillet1_edges, radius=FILLET1_R)

    # Sketch8 → Boss-Extrude2 (add)
    with BuildSketch(Plane.XY.offset(1.5).offset(BOSS_EXTRUDE2_START)):
        with BuildLine():
            Line((-18.733333333, 12.625841184), (-7.933333333, 12.625841184))
            ThreePointArc((-7.933333333, 12.625841184), (-10.580065112, 5.625841184), (-7.933333333, -1.374158816))
            Line((-7.933333333, -1.374158816), (-18.733333333, -1.374158816))
            ThreePointArc((-18.733333333, -1.374158816), (-16.086601554, 5.625841184), (-18.733333333, 12.625841184))
        make_face()
        with BuildLine():
            Line((7.933333333, 12.625841184), (18.733333333, 12.625841184))
            ThreePointArc((18.733333333, 12.625841184), (16.086601554, 5.625841184), (18.733333333, -1.374158816))
            Line((18.733333333, -1.374158816), (7.933333333, -1.374158816))
            ThreePointArc((7.933333333, -1.374158816), (10.580065112, 5.625841184), (7.933333333, 12.625841184))
        make_face()
    extrude(amount=BOSS_EXTRUDE2_DEPTH)

    # Fillet2
    fillet2_edges = [part.edges().sort_by_distance(p)[0] for p in [
        (-18.733333333, 12.625841184, 0),
        (-7.933333333, 12.625841184, 0),
        (7.933333333, 12.625841184, 0),
        (18.733333333, 12.625841184, 0),
        (18.733333333, -1.374158816, 0),
        (7.933333333, -1.374158816, 0),
        (-7.933333333, -1.374158816, 0),
        (-18.733333333, -1.374158816, 0),
    ]]
    fillet(fillet2_edges, radius=FILLET2_R)

    # Sketch9 → Boss-Extrude3 (add)
    with BuildSketch(Plane.XY.offset(1.5).offset(BOSS_EXTRUDE3_START)):
        with BuildLine():
            Line((-32, 7.125841184), (-16.193473372, 7.125841184))
            ThreePointArc((-16.193473372, 7.125841184), (-16.086601554, 5.625841184), (-16.193473372, 4.125841184))
            Line((-16.193473372, 4.125841184), (-32, 4.125841184))
            Line((-32, 4.125841184), (-32, 7.125841184))
        make_face()
        with BuildLine():
            Line((-10.473193294, 7.125841184), (10.473193294, 7.125841184))
            ThreePointArc((10.473193294, 7.125841184), (10.580065112, 5.625841184), (10.473193294, 4.125841184))
            Line((10.473193294, 4.125841184), (-10.473193294, 4.125841184))
            ThreePointArc((-10.473193294, 4.125841184), (-10.580065112, 5.625841184), (-10.473193294, 7.125841184))
        make_face()
        with BuildLine():
            Line((16.193473372, 7.125841184), (32, 7.125841184))
            Line((32, 7.125841184), (32, 4.125841184))
            Line((32, 4.125841184), (16.193473372, 4.125841184))
            ThreePointArc((16.193473372, 4.125841184), (16.086601554, 5.625841184), (16.193473372, 7.125841184))
        make_face()
    extrude(amount=BOSS_EXTRUDE3_DEPTH)

    # Fillet3
    fillet3_edges = [part.edges().sort_by_distance(p)[0] for p in [
        (-32, 4.125841184, 0),
        (-32, 7.125841184, 0),
        (-16.193473372, 7.125841184, 0),
        (-16.193473372, 4.125841184, 0),
        (-10.473193294, 4.125841184, 0),
        (-10.473193294, 7.125841184, 0),
        (10.473193294, 7.125841184, 0),
        (10.473193294, 4.125841184, 0),
        (16.193473372, 4.125841184, 0),
        (16.193473372, 7.125841184, 0),
        (32, 7.125841184, 0),
        (32, 4.125841184, 0),
    ]]
    fillet(fillet3_edges, radius=FILLET3_R)


solid = part.part
